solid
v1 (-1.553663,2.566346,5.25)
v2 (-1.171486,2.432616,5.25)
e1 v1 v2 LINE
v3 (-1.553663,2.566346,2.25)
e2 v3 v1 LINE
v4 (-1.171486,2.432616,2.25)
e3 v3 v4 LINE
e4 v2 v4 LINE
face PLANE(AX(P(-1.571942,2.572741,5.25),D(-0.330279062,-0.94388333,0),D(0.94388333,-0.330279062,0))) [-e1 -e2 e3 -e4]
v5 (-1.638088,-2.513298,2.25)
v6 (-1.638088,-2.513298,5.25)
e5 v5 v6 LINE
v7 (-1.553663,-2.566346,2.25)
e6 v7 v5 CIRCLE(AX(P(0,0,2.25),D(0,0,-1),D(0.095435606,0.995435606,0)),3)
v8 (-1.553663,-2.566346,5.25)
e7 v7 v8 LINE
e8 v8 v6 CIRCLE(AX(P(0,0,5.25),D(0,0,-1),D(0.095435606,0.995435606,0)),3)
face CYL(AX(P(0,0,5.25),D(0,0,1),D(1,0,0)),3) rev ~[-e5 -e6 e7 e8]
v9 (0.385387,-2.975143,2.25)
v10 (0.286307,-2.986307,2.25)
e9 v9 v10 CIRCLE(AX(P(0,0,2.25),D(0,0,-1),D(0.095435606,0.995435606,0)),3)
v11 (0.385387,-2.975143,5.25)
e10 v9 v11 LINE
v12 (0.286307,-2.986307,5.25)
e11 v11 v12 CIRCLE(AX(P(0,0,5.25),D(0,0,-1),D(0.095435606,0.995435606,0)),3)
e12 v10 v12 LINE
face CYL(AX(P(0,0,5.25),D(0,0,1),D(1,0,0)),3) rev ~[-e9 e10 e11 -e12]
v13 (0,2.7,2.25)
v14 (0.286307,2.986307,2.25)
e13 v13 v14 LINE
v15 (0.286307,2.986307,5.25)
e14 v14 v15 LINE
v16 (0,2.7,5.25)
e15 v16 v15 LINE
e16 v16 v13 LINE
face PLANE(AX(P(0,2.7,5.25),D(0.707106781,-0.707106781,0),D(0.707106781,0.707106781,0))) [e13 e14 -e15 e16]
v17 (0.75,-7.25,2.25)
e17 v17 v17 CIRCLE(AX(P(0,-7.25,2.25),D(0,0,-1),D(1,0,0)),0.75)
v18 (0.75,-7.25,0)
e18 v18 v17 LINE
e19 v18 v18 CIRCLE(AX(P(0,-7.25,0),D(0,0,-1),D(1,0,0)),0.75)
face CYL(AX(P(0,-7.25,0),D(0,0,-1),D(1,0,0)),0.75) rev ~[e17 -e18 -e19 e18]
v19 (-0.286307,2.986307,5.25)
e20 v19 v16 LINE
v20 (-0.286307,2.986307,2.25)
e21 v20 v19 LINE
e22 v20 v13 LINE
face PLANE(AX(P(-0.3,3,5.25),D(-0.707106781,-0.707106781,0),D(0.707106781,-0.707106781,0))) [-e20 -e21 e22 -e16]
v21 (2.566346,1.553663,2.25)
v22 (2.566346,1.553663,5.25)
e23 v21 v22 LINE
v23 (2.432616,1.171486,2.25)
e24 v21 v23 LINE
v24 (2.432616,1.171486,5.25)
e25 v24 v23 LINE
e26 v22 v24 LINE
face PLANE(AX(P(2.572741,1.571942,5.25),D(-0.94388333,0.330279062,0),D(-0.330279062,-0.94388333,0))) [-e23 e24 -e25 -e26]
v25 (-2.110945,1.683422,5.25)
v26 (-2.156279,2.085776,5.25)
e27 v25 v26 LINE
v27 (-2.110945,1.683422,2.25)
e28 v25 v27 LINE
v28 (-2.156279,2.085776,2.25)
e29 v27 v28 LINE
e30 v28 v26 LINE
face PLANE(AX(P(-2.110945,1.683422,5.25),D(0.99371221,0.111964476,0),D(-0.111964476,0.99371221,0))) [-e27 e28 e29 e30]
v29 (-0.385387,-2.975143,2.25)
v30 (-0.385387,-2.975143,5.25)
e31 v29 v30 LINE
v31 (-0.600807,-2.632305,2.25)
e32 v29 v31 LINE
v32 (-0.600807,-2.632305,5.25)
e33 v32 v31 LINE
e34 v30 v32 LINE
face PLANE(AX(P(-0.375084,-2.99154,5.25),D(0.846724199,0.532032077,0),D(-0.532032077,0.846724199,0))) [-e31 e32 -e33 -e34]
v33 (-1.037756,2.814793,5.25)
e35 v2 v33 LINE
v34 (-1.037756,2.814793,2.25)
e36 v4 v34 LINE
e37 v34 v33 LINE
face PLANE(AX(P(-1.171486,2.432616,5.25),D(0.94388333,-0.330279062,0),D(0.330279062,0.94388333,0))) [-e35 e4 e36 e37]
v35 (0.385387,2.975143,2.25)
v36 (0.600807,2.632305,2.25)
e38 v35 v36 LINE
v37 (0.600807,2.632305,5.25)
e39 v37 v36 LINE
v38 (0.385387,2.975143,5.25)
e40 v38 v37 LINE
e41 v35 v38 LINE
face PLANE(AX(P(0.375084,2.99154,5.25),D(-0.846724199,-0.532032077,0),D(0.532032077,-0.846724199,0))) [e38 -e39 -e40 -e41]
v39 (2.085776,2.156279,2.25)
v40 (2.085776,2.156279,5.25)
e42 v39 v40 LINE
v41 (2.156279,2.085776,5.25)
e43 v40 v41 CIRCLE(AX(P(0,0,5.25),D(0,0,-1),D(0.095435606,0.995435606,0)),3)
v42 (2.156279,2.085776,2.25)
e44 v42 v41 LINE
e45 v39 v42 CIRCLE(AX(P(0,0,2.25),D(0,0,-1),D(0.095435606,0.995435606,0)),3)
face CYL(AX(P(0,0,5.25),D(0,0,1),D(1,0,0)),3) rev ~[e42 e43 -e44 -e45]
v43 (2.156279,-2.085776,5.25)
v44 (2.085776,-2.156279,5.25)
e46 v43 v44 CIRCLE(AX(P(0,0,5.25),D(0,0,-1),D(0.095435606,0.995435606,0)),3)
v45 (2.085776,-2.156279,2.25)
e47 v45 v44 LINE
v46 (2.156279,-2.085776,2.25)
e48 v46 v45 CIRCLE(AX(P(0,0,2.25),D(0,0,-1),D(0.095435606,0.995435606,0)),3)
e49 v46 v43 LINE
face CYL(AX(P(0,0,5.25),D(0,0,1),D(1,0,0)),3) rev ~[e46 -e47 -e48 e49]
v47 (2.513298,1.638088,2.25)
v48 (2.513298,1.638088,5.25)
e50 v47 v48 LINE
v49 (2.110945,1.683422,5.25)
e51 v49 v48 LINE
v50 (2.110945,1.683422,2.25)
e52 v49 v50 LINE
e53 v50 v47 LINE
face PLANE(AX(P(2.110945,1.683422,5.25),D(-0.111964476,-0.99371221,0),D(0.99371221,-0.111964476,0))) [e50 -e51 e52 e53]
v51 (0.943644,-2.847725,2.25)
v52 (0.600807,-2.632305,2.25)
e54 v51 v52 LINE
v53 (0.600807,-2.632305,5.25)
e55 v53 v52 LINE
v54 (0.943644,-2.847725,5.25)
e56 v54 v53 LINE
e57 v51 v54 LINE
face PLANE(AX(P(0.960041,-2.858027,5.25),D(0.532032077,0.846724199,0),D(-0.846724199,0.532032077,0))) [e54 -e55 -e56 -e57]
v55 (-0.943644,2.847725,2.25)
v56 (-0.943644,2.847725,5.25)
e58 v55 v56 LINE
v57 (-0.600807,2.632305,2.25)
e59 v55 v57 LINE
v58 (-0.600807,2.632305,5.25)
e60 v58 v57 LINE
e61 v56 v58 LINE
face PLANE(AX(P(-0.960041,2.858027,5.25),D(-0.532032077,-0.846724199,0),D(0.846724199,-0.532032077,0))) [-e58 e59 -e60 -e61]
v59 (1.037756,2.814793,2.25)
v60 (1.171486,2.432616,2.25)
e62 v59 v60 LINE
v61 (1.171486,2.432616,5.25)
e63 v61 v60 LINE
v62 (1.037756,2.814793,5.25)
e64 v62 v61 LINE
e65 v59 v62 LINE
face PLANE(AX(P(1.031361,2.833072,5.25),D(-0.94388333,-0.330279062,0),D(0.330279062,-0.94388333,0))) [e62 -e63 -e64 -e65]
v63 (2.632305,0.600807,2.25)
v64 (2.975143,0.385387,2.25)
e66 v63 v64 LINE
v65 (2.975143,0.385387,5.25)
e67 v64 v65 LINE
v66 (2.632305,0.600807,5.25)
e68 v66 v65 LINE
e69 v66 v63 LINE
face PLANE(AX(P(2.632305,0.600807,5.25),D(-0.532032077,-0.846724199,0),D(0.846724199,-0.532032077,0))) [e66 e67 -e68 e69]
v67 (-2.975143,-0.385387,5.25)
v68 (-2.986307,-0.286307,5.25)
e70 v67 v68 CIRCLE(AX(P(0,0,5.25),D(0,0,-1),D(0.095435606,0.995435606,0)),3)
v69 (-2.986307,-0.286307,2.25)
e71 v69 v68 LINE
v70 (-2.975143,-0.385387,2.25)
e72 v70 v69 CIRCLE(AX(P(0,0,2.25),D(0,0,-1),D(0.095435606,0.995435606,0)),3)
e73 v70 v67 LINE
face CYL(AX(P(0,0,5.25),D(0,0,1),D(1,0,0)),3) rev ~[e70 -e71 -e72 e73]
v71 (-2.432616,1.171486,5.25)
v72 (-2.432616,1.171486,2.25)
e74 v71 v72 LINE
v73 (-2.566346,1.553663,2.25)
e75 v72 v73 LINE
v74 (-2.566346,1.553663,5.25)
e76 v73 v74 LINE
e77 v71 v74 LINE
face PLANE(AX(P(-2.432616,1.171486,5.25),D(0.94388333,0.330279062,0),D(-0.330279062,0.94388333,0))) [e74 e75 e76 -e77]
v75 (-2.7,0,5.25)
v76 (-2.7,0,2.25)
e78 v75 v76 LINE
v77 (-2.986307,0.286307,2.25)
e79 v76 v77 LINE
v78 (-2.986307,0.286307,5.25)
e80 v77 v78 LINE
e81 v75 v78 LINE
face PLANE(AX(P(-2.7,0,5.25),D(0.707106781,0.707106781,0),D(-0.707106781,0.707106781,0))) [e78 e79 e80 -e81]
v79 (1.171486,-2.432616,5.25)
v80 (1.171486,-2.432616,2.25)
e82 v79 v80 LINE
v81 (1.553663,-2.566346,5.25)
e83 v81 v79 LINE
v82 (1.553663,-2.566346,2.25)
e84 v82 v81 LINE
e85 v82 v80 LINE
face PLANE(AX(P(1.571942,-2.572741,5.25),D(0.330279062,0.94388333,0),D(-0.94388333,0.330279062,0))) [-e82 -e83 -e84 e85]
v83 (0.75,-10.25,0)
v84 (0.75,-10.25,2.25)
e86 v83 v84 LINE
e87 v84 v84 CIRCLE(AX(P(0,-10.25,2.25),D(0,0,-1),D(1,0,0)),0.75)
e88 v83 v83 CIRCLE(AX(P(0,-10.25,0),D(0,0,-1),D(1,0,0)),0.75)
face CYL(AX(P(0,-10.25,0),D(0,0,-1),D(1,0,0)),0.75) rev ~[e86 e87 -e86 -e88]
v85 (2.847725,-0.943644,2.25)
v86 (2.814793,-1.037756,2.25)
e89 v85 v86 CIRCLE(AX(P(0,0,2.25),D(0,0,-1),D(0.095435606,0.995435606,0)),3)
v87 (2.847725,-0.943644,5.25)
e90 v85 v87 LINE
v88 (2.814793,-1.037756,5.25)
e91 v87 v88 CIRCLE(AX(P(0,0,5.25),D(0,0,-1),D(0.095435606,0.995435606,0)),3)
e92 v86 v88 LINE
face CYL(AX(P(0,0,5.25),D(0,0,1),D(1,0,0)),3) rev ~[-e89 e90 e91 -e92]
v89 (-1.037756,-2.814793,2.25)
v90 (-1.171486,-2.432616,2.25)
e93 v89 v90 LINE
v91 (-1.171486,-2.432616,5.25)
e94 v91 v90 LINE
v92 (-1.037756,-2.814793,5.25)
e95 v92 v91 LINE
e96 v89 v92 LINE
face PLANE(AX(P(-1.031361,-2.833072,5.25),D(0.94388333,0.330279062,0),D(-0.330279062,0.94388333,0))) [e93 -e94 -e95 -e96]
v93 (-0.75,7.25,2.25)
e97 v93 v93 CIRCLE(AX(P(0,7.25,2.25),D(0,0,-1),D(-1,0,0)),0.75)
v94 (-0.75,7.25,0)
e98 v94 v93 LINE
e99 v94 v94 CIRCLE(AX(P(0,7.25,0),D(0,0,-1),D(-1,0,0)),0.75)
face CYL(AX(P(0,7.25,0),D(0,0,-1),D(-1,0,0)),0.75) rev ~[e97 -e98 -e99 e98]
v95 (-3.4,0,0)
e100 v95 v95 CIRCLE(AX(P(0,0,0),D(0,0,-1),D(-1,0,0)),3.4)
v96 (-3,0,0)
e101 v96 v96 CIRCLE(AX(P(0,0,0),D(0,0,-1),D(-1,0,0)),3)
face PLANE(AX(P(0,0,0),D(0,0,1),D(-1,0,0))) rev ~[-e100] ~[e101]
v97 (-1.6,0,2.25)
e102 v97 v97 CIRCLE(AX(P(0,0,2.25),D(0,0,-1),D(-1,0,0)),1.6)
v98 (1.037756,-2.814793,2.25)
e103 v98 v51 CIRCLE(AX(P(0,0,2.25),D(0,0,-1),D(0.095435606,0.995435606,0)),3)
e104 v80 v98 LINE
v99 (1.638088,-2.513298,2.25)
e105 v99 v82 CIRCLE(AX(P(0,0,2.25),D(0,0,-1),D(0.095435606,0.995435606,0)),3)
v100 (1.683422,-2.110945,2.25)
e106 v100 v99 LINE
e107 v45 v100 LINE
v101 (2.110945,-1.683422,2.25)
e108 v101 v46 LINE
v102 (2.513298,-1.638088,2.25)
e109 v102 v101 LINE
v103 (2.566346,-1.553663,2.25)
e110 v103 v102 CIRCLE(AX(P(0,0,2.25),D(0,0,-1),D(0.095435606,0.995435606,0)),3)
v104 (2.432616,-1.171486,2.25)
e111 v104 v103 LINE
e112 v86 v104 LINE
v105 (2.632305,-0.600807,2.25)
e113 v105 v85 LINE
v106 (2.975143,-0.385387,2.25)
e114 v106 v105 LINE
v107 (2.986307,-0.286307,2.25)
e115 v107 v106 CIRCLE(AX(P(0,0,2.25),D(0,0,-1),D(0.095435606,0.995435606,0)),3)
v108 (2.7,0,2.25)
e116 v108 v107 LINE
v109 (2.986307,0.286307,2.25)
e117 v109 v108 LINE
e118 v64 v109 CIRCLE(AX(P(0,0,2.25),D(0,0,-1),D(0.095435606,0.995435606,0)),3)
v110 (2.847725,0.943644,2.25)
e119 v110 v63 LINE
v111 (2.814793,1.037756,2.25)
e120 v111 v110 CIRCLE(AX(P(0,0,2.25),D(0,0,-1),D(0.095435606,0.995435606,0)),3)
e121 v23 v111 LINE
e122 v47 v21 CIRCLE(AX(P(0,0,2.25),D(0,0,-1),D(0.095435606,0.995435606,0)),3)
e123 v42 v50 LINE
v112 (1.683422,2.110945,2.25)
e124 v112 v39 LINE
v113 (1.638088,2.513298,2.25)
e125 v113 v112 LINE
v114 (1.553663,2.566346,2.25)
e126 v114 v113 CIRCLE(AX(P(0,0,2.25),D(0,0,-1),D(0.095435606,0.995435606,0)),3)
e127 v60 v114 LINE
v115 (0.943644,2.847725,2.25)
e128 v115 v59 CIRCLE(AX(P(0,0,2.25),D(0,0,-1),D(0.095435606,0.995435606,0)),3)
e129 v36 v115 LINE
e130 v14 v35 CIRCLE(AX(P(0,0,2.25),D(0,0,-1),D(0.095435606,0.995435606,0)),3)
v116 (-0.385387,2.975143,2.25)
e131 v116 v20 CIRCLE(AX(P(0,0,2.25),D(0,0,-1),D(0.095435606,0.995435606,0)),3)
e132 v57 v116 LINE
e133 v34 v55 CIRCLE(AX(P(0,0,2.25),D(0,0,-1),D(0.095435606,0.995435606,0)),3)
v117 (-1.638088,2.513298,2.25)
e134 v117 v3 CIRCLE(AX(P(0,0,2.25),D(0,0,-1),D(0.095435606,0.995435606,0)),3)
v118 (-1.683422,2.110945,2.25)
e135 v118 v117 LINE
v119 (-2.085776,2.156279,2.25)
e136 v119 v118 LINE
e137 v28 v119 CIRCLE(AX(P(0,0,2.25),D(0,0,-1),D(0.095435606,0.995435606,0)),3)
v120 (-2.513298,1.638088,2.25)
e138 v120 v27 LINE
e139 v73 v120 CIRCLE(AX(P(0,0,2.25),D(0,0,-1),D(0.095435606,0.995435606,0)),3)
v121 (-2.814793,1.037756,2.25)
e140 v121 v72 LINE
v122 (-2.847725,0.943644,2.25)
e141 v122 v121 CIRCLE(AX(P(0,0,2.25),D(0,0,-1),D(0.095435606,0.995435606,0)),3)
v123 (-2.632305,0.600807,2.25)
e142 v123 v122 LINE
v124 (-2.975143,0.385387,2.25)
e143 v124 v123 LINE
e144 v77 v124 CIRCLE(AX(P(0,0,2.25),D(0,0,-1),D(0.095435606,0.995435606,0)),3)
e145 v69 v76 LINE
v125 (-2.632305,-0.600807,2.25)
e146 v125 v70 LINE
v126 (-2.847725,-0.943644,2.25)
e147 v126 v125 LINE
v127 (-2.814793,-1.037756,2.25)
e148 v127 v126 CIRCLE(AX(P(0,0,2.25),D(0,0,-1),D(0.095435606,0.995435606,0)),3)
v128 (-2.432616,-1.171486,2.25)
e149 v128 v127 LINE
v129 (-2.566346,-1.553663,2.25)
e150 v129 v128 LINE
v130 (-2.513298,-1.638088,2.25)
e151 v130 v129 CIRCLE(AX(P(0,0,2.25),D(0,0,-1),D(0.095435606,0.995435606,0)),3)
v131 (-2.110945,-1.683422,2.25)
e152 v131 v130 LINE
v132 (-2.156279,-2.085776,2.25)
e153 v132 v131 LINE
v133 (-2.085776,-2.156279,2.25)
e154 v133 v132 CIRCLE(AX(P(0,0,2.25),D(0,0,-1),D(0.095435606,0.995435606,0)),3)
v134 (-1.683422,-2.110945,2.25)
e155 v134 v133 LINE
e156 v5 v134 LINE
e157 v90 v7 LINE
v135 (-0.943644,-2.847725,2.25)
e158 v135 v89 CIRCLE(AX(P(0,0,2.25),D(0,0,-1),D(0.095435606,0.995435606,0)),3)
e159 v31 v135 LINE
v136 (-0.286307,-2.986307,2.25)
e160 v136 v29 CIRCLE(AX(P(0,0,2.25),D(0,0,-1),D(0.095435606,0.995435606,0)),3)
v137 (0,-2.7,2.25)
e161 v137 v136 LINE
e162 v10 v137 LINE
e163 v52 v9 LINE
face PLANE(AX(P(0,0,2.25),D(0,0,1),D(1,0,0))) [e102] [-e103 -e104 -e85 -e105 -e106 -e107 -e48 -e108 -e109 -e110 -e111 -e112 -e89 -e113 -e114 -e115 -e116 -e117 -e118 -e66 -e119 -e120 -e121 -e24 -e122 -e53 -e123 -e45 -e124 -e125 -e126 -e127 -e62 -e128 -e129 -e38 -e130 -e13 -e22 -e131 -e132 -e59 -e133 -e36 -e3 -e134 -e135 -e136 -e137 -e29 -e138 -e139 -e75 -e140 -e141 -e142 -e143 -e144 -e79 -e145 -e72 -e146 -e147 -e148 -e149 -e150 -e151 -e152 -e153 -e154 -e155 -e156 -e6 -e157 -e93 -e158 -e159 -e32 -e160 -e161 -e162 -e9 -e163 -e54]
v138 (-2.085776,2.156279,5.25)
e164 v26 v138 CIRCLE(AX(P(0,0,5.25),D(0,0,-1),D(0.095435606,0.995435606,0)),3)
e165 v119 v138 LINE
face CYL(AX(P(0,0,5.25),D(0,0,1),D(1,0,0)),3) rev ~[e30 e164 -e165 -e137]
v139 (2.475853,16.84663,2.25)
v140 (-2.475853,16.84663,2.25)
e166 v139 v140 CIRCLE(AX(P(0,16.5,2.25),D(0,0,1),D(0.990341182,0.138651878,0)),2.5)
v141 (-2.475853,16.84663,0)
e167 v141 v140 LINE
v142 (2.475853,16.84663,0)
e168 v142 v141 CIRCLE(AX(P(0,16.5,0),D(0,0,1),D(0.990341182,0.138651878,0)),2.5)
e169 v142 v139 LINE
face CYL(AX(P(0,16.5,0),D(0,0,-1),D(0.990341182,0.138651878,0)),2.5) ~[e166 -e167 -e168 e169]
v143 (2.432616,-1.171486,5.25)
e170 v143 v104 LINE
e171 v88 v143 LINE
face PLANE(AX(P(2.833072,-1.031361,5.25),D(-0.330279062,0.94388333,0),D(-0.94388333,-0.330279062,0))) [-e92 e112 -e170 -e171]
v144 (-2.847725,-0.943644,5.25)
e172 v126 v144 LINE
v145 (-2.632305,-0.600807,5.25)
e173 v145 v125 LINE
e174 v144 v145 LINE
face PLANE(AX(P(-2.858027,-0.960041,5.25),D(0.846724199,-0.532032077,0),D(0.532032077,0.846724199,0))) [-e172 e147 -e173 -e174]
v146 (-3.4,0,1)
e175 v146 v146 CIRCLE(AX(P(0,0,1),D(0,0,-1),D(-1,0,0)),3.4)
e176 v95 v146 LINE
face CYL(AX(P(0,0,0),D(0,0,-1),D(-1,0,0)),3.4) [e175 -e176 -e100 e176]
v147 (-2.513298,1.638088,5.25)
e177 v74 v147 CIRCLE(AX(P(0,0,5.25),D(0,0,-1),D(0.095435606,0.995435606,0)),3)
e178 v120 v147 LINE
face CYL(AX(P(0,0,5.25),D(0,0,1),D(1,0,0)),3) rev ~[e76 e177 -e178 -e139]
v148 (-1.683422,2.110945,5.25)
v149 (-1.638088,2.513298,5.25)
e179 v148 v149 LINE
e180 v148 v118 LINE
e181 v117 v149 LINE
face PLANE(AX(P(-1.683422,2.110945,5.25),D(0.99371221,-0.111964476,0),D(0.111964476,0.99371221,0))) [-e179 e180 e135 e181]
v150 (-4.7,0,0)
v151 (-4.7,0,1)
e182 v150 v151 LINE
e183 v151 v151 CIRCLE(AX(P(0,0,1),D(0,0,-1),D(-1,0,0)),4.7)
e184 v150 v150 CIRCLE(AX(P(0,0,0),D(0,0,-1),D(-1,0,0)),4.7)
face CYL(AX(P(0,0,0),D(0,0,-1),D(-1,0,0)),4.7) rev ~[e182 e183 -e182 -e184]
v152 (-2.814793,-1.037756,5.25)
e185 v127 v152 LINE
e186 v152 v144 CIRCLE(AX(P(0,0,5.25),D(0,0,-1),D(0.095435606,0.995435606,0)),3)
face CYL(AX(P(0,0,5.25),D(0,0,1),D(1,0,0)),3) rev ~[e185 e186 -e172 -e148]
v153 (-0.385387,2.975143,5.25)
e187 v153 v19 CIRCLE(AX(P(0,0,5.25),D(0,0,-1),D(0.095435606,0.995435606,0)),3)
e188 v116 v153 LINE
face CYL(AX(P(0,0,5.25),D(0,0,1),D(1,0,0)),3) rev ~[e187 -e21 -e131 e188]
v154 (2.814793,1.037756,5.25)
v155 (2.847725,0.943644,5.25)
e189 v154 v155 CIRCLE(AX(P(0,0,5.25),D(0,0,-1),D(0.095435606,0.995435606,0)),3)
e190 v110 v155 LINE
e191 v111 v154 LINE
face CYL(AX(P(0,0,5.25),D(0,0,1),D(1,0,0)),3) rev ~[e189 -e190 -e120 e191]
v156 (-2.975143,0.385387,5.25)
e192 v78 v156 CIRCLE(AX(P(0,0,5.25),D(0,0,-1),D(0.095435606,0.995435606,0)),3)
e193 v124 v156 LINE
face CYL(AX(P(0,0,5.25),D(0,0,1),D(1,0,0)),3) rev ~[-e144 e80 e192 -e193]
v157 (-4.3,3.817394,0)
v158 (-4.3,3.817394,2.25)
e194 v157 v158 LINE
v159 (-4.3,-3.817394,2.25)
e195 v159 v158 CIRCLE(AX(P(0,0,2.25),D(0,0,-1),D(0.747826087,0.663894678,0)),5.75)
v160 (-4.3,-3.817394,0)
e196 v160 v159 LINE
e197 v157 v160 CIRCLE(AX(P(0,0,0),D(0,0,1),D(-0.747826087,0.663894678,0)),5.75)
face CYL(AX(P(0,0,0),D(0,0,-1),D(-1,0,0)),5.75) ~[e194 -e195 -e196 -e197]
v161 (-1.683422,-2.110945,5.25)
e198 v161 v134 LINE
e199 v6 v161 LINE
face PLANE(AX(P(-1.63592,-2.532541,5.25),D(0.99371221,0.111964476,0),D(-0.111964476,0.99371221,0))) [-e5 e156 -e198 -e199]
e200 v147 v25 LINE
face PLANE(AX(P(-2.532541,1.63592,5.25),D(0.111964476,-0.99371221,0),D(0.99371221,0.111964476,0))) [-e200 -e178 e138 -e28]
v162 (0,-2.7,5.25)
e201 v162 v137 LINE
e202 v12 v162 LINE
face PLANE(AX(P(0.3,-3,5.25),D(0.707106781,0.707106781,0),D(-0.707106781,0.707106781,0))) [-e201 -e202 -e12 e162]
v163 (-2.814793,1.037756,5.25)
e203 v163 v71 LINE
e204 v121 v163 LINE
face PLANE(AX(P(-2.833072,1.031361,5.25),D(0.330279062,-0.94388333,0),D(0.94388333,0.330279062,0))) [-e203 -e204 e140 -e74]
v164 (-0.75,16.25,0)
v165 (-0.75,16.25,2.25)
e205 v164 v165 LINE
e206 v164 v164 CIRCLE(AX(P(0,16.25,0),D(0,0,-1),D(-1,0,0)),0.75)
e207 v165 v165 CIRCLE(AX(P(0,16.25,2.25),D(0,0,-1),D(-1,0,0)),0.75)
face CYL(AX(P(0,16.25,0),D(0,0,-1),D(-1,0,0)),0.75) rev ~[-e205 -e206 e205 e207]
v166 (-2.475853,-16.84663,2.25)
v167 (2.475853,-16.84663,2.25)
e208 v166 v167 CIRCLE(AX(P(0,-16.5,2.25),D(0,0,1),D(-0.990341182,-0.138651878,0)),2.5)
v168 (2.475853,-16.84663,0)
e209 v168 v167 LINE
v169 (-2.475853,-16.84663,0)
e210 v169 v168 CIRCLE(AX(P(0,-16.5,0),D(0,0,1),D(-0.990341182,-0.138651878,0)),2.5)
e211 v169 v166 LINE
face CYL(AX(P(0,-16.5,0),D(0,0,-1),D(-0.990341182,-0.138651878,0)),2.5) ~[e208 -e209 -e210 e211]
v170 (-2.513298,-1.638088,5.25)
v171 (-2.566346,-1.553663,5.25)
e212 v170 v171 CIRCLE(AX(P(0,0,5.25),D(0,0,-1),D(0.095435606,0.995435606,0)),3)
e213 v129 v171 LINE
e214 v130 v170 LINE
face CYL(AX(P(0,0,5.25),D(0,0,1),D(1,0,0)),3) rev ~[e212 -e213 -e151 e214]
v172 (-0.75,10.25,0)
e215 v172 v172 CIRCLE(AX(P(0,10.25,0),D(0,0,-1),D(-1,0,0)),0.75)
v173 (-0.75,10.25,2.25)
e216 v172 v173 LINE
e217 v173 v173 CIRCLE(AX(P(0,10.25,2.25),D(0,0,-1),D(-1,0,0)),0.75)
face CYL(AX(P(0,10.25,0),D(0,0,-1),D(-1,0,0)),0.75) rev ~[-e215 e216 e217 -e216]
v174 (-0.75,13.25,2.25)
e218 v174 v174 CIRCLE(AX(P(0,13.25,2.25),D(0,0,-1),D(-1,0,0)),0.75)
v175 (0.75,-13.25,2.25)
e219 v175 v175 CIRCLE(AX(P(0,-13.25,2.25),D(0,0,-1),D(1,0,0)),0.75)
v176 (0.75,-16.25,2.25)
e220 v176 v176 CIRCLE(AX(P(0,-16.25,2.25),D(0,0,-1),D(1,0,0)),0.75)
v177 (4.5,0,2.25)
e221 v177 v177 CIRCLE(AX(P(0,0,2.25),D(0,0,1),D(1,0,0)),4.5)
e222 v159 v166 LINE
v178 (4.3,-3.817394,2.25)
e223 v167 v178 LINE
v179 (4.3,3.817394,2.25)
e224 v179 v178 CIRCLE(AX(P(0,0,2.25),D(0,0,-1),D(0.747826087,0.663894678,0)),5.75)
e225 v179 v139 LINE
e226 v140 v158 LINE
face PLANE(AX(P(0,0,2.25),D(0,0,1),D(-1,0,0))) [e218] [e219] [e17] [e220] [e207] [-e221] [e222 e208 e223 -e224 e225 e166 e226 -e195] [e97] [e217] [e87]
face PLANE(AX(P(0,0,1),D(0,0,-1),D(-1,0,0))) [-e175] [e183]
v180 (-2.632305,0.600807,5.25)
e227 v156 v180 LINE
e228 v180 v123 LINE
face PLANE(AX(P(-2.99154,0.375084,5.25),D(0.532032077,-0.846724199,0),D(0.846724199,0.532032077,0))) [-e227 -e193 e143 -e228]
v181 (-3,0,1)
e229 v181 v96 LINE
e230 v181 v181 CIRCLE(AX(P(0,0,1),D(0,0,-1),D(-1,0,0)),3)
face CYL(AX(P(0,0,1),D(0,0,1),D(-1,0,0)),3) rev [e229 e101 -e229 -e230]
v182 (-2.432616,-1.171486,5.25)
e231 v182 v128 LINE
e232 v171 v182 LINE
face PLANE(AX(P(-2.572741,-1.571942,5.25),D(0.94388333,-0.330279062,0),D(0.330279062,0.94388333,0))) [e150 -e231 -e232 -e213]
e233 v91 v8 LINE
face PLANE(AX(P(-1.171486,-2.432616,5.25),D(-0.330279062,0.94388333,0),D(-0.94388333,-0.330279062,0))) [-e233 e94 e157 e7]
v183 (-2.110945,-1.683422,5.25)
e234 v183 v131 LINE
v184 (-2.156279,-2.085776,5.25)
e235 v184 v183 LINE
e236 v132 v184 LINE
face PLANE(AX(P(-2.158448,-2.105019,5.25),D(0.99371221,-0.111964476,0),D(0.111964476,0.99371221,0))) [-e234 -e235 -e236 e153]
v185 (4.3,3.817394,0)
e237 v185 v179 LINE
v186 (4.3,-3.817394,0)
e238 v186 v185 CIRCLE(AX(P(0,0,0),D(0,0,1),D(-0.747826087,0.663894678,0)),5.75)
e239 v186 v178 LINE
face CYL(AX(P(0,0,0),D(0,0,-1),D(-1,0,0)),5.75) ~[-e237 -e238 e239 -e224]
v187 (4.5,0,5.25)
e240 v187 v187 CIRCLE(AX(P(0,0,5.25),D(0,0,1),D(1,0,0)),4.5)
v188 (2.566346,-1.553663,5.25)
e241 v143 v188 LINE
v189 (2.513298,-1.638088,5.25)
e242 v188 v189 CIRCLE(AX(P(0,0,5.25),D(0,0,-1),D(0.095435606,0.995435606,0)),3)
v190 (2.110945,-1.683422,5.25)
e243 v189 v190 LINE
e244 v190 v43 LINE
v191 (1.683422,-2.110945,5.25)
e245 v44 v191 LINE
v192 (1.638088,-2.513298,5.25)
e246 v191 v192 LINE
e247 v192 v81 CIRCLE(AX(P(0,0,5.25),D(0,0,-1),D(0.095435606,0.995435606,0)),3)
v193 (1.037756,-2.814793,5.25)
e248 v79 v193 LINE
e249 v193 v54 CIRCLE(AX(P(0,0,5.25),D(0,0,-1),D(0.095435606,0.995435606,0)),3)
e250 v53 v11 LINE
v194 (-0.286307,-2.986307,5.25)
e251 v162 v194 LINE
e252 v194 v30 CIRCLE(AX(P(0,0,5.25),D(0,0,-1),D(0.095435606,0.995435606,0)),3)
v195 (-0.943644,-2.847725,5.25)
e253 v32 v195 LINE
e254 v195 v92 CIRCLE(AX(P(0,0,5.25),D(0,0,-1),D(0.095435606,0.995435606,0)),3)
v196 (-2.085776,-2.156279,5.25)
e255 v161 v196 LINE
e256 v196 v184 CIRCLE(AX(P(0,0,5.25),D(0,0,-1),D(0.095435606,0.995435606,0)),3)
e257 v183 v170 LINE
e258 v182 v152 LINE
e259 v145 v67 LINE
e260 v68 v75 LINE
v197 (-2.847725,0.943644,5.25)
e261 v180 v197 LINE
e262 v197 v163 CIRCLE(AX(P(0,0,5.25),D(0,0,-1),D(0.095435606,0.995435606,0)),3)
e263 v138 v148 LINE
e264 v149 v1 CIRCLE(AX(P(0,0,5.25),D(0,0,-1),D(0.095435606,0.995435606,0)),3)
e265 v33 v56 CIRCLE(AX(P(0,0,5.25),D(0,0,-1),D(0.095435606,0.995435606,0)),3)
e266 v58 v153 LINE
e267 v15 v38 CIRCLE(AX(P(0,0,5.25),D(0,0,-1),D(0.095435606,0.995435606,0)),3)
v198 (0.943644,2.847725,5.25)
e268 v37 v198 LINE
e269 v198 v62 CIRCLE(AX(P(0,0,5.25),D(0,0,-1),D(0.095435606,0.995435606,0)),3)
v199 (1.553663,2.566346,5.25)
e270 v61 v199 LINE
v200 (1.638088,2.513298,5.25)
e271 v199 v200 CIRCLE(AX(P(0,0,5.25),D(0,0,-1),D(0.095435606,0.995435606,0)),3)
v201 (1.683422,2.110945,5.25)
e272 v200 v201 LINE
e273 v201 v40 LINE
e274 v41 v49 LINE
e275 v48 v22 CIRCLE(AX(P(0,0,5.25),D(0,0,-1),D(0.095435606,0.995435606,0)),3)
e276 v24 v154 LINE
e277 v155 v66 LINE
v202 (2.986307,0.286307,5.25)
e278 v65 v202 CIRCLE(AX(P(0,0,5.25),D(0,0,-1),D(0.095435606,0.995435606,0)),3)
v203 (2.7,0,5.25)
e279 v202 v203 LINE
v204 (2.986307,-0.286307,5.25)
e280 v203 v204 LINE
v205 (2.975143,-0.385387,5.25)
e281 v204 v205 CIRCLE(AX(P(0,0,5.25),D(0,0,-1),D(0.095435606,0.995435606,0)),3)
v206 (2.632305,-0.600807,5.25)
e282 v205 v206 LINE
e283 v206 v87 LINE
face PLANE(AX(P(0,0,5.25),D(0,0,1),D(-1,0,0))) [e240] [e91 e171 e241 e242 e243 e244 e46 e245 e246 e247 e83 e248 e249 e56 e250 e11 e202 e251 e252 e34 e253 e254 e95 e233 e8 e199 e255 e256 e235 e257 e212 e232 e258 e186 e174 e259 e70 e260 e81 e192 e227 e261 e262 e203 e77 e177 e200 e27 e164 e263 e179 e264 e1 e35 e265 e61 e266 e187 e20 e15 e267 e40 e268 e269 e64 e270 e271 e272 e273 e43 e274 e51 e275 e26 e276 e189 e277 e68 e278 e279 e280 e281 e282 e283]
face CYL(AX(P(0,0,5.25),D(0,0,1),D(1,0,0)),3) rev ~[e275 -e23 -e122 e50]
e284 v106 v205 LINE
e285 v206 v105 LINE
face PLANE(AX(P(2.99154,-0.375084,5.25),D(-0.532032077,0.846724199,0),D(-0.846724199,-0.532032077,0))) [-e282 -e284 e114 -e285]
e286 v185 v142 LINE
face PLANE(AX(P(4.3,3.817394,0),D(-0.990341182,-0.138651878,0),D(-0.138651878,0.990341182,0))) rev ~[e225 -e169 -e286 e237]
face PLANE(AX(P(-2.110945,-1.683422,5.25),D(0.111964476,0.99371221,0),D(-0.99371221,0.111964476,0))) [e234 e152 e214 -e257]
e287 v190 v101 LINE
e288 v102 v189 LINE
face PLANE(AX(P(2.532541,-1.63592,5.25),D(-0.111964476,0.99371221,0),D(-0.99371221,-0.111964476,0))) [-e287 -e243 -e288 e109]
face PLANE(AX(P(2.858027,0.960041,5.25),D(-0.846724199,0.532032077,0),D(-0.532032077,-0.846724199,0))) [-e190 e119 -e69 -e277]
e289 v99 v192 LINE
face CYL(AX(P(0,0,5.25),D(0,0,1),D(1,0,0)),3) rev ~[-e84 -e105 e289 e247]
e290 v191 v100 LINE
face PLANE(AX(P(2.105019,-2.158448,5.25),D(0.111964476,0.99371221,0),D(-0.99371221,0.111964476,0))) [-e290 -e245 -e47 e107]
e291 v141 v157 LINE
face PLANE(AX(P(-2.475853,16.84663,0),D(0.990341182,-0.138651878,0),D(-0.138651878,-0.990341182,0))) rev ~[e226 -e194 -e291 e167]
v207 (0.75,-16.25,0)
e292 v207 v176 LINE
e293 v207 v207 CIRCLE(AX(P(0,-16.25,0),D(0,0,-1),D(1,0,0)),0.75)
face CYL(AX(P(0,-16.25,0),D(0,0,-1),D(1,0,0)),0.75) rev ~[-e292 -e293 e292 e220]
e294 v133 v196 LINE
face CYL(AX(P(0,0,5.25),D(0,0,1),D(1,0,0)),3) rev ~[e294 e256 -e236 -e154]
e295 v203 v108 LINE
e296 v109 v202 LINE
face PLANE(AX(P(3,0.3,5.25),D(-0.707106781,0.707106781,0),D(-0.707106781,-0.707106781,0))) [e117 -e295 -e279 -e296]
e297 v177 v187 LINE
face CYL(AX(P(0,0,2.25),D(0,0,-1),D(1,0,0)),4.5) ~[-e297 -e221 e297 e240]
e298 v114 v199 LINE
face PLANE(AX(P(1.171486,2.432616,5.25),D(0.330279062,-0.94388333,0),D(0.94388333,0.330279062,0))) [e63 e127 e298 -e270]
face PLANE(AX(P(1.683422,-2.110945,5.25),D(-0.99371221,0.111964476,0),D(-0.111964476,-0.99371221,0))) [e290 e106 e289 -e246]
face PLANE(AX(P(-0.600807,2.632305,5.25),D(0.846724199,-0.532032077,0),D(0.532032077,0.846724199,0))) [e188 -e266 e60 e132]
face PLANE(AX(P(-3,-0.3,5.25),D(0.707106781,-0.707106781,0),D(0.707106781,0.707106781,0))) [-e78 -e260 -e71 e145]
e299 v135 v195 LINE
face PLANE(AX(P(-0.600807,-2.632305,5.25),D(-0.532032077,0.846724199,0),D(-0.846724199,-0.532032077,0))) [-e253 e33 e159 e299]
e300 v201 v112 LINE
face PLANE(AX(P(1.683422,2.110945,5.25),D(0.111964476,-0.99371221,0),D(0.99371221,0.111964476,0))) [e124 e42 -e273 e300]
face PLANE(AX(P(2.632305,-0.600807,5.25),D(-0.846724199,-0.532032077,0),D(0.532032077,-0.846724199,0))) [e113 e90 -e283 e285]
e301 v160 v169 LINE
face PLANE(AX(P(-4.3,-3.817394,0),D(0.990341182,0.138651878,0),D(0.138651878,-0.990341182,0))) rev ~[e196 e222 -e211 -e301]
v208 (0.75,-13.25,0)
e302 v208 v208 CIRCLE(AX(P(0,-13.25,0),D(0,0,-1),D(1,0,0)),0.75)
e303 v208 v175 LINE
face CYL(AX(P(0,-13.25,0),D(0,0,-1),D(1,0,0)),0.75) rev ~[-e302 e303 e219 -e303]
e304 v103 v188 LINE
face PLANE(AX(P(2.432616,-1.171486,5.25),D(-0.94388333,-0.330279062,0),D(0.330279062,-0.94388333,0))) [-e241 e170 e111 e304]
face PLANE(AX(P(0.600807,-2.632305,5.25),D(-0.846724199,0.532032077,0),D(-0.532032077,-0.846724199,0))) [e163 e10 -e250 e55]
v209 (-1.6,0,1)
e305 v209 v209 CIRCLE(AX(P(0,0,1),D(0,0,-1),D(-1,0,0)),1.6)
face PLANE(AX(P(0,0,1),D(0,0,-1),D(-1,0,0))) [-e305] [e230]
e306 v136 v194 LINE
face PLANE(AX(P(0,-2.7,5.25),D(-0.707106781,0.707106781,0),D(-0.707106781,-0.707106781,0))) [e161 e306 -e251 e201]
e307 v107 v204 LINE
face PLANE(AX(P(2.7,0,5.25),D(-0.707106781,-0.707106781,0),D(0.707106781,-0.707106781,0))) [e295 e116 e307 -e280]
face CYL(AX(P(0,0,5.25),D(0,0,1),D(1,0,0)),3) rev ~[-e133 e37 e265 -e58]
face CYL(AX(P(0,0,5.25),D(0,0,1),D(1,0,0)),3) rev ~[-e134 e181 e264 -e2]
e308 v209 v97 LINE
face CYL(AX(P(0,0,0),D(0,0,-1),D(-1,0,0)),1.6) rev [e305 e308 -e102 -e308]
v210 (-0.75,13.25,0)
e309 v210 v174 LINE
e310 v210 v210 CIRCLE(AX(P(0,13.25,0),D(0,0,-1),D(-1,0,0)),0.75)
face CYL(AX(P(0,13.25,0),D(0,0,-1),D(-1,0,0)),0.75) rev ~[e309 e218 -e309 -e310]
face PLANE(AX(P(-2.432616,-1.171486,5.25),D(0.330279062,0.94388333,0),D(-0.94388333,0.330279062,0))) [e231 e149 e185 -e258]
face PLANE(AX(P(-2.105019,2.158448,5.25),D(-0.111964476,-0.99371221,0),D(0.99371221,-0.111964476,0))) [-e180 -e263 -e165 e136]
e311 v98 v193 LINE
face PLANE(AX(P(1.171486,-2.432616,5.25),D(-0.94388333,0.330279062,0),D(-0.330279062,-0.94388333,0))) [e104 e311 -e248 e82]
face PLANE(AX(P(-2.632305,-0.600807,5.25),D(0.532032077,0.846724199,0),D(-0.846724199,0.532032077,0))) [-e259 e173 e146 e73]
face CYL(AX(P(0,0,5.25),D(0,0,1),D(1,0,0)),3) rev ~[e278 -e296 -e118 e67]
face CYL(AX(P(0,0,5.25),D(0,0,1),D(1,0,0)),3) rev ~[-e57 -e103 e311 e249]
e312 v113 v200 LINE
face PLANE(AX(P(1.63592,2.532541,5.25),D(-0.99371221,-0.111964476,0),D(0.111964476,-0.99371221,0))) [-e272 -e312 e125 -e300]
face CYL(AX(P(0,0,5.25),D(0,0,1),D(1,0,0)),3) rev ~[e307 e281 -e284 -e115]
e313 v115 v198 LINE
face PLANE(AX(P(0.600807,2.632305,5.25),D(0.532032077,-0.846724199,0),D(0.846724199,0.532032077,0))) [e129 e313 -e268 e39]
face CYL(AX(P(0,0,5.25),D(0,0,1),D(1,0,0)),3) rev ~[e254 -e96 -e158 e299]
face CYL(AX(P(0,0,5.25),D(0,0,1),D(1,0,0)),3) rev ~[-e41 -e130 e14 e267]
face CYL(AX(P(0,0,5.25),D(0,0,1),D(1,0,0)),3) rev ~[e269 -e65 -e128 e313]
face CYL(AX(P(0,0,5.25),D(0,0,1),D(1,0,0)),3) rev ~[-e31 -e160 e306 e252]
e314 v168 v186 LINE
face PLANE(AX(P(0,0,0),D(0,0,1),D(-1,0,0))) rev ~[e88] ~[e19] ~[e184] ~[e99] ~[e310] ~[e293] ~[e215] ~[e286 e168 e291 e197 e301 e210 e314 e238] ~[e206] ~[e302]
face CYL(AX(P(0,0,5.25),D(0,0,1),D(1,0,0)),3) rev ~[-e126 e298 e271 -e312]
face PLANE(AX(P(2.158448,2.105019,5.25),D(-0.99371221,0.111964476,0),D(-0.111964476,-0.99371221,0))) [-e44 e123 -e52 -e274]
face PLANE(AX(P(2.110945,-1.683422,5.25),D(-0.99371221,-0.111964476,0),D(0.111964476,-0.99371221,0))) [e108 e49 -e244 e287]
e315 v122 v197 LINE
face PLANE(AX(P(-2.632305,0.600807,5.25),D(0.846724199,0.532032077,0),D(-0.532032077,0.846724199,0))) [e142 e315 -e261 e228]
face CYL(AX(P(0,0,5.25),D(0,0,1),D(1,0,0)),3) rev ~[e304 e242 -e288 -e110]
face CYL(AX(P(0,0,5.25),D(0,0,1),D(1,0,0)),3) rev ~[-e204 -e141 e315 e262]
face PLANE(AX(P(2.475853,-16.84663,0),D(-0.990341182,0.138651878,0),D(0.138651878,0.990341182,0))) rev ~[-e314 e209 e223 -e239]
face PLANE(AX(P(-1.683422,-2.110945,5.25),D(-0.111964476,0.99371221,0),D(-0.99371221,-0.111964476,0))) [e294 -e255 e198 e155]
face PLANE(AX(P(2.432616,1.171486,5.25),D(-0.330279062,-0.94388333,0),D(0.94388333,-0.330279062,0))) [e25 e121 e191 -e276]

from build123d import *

# Parameters (mm, degrees)
ESQUISSE1_R                  = 5.75
ESQUISSE1_R_2                = 1.6
BOSS_EXTRU_1_DEPTH           = 5.25
ESQUISSE2_R                  = 3
ENL_V_MAT_EXTRU_1_DEPTH      = 3
ENL_V_START                  = -3
ESQUISSE3_R                  = 5.75
ESQUISSE3_R_2                = 4.5
ENL_V_MAT_EXTRU_2_DEPTH      = 3
BOSS_EXTRU_2_DEPTH           = 2.25
R_P_TITION_CIRCULAIRE1_COUNT = 2
ESQUISSE5_R                  = 0.75
ENL_V_MAT_EXTRU_3_DEPTH      = 3
R_P_TITION_CIRCULAIRE2_COUNT = 2
BOSS_EXTRU_3_DEPTH           = 3
R_P_TITION_CIRCULAIRE3_COUNT = 28
ENL_V_START_2                = -1
ESQUISSE7_R                  = 3
ESQUISSE7_R_2                = 1.6
ENL_V_MAT_EXTRU_4_DEPTH      = 1
ESQUISSE8_R                  = 4.7
ESQUISSE8_R_2                = 3.4
ENL_V_MAT_EXTRU_5_DEPTH      = 1


with BuildPart() as part:
    # Esquisse1 → Boss.-Extru.1 (new body)
    with BuildSketch(Plane.XY):
        with Locations(Location((0, 0, 0), (0, 0, 180))):
            Circle(ESQUISSE1_R)
        with Locations(Location((0, 0, 0), (0, 0, 180))):
            Circle(ESQUISSE1_R_2, mode=Mode.SUBTRACT)
    extrude(amount=BOSS_EXTRU_1_DEPTH)

    # Esquisse2 → Enlèv. mat.-Extru.1 (cut)
    with BuildSketch(Plane.XY.offset(5.25)):
        Circle(ESQUISSE2_R)
    extrude(amount=-ENL_V_MAT_EXTRU_1_DEPTH, mode=Mode.SUBTRACT)

    # Esquisse3 → Enlèv. mat.-Extru.2 (cut)
    with BuildSketch(Plane.XY.offset(5.25).offset(ENL_V_START)):
        with Locations(Location((0, 0, 0), (0, 0, 180))):
            Circle(ESQUISSE3_R)
        Circle(ESQUISSE3_R_2, mode=Mode.SUBTRACT)
    extrude(amount=ENL_V_MAT_EXTRU_2_DEPTH, mode=Mode.SUBTRACT)

    # Esquisse4 → Boss.-Extru.2 (add)
    with BuildSketch(Plane(origin=(0, 0, 0), x_dir=(-1, 0, 0), z_dir=(0, 0, -1))):
        with BuildLine():
            Line((-4.3, 3.817394399), (-2.475852955, 16.846629695))
            ThreePointArc((-2.475852955, 16.846629695), (0, 19), (2.475852955, 16.846629695))
            Line((2.475852955, 16.846629695), (4.3, 3.817394399))
            ThreePointArc((4.3, 3.817394399), (0, 5.75), (-4.3, 3.817394399))
        make_face()
    boss_extru_2 = extrude(amount=-BOSS_EXTRU_2_DEPTH)

    # Répétition circulaire1: Boss.-Extru.2 ×2 about axis
    r_p_tition_circulaire1_axis = Axis((0, 0, 0), (0, 0, 1))
    for i in range(1, R_P_TITION_CIRCULAIRE1_COUNT):
        add(boss_extru_2.rotate(r_p_tition_circulaire1_axis, i * 360 / R_P_TITION_CIRCULAIRE1_COUNT))

    # Esquisse5 → Enlèv. mat.-Extru.3 (cut)
    with BuildSketch(Plane(origin=(0, 0, 0), x_dir=(-1, 0, 0), z_dir=(0, 0, -1))):
        with Locations((0, 7.25)):
            Circle(ESQUISSE5_R)
        with Locations((0, 10.25)):
            Circle(ESQUISSE5_R)
        with Locations((0, 13.25)):
            Circle(ESQUISSE5_R)
        with Locations((0, 16.25)):
            Circle(ESQUISSE5_R)
    enl_v_mat_extru_3 = extrude(amount=-ENL_V_MAT_EXTRU_3_DEPTH, mode=Mode.SUBTRACT)

    # Répétition circulaire2: Enlèv. mat.-Extru.3 ×2 about axis
    r_p_tition_circulaire2_axis = Axis((0, 0, 0), (0, 0, 1))
    for i in range(1, R_P_TITION_CIRCULAIRE2_COUNT):
        add(enl_v_mat_extru_3.rotate(r_p_tition_circulaire2_axis, i * 360 / R_P_TITION_CIRCULAIRE2_COUNT), mode=Mode.SUBTRACT)

    # Esquisse6 → Boss.-Extru.3 (add)
    with BuildSketch(Plane.XY.offset(5.25)):
        Polygon((-0.3, 3), (0, 2.7), (0.3, 3), align=None)
    boss_extru_3 = extrude(amount=-BOSS_EXTRU_3_DEPTH)

    # Répétition circulaire3: Boss.-Extru.3 ×28 about axis
    r_p_tition_circulaire3_axis = Axis((0, 0, 0), (0, 0, 1))
    for i in range(1, R_P_TITION_CIRCULAIRE3_COUNT):
        add(boss_extru_3.rotate(r_p_tition_circulaire3_axis, i * 360 / R_P_TITION_CIRCULAIRE3_COUNT))

    # Esquisse7 → Enlèv. mat.-Extru.4 (cut)
    with BuildSketch(Plane(origin=(0, 0, 0), x_dir=(-1, 0, 0), z_dir=(0, 0, -1)).offset(ENL_V_START_2)):
        Circle(ESQUISSE7_R)
        Circle(ESQUISSE7_R_2, mode=Mode.SUBTRACT)
    extrude(amount=ENL_V_MAT_EXTRU_4_DEPTH, mode=Mode.SUBTRACT)

    # Esquisse8 → Enlèv. mat.-Extru.5 (cut)
    with BuildSketch(Plane(origin=(0, 0, 0), x_dir=(-1, 0, 0), z_dir=(0, 0, -1))):
        Circle(ESQUISSE8_R)
        Circle(ESQUISSE8_R_2, mode=Mode.SUBTRACT)
    extrude(amount=-ENL_V_MAT_EXTRU_5_DEPTH, mode=Mode.SUBTRACT)


solid = part.part
